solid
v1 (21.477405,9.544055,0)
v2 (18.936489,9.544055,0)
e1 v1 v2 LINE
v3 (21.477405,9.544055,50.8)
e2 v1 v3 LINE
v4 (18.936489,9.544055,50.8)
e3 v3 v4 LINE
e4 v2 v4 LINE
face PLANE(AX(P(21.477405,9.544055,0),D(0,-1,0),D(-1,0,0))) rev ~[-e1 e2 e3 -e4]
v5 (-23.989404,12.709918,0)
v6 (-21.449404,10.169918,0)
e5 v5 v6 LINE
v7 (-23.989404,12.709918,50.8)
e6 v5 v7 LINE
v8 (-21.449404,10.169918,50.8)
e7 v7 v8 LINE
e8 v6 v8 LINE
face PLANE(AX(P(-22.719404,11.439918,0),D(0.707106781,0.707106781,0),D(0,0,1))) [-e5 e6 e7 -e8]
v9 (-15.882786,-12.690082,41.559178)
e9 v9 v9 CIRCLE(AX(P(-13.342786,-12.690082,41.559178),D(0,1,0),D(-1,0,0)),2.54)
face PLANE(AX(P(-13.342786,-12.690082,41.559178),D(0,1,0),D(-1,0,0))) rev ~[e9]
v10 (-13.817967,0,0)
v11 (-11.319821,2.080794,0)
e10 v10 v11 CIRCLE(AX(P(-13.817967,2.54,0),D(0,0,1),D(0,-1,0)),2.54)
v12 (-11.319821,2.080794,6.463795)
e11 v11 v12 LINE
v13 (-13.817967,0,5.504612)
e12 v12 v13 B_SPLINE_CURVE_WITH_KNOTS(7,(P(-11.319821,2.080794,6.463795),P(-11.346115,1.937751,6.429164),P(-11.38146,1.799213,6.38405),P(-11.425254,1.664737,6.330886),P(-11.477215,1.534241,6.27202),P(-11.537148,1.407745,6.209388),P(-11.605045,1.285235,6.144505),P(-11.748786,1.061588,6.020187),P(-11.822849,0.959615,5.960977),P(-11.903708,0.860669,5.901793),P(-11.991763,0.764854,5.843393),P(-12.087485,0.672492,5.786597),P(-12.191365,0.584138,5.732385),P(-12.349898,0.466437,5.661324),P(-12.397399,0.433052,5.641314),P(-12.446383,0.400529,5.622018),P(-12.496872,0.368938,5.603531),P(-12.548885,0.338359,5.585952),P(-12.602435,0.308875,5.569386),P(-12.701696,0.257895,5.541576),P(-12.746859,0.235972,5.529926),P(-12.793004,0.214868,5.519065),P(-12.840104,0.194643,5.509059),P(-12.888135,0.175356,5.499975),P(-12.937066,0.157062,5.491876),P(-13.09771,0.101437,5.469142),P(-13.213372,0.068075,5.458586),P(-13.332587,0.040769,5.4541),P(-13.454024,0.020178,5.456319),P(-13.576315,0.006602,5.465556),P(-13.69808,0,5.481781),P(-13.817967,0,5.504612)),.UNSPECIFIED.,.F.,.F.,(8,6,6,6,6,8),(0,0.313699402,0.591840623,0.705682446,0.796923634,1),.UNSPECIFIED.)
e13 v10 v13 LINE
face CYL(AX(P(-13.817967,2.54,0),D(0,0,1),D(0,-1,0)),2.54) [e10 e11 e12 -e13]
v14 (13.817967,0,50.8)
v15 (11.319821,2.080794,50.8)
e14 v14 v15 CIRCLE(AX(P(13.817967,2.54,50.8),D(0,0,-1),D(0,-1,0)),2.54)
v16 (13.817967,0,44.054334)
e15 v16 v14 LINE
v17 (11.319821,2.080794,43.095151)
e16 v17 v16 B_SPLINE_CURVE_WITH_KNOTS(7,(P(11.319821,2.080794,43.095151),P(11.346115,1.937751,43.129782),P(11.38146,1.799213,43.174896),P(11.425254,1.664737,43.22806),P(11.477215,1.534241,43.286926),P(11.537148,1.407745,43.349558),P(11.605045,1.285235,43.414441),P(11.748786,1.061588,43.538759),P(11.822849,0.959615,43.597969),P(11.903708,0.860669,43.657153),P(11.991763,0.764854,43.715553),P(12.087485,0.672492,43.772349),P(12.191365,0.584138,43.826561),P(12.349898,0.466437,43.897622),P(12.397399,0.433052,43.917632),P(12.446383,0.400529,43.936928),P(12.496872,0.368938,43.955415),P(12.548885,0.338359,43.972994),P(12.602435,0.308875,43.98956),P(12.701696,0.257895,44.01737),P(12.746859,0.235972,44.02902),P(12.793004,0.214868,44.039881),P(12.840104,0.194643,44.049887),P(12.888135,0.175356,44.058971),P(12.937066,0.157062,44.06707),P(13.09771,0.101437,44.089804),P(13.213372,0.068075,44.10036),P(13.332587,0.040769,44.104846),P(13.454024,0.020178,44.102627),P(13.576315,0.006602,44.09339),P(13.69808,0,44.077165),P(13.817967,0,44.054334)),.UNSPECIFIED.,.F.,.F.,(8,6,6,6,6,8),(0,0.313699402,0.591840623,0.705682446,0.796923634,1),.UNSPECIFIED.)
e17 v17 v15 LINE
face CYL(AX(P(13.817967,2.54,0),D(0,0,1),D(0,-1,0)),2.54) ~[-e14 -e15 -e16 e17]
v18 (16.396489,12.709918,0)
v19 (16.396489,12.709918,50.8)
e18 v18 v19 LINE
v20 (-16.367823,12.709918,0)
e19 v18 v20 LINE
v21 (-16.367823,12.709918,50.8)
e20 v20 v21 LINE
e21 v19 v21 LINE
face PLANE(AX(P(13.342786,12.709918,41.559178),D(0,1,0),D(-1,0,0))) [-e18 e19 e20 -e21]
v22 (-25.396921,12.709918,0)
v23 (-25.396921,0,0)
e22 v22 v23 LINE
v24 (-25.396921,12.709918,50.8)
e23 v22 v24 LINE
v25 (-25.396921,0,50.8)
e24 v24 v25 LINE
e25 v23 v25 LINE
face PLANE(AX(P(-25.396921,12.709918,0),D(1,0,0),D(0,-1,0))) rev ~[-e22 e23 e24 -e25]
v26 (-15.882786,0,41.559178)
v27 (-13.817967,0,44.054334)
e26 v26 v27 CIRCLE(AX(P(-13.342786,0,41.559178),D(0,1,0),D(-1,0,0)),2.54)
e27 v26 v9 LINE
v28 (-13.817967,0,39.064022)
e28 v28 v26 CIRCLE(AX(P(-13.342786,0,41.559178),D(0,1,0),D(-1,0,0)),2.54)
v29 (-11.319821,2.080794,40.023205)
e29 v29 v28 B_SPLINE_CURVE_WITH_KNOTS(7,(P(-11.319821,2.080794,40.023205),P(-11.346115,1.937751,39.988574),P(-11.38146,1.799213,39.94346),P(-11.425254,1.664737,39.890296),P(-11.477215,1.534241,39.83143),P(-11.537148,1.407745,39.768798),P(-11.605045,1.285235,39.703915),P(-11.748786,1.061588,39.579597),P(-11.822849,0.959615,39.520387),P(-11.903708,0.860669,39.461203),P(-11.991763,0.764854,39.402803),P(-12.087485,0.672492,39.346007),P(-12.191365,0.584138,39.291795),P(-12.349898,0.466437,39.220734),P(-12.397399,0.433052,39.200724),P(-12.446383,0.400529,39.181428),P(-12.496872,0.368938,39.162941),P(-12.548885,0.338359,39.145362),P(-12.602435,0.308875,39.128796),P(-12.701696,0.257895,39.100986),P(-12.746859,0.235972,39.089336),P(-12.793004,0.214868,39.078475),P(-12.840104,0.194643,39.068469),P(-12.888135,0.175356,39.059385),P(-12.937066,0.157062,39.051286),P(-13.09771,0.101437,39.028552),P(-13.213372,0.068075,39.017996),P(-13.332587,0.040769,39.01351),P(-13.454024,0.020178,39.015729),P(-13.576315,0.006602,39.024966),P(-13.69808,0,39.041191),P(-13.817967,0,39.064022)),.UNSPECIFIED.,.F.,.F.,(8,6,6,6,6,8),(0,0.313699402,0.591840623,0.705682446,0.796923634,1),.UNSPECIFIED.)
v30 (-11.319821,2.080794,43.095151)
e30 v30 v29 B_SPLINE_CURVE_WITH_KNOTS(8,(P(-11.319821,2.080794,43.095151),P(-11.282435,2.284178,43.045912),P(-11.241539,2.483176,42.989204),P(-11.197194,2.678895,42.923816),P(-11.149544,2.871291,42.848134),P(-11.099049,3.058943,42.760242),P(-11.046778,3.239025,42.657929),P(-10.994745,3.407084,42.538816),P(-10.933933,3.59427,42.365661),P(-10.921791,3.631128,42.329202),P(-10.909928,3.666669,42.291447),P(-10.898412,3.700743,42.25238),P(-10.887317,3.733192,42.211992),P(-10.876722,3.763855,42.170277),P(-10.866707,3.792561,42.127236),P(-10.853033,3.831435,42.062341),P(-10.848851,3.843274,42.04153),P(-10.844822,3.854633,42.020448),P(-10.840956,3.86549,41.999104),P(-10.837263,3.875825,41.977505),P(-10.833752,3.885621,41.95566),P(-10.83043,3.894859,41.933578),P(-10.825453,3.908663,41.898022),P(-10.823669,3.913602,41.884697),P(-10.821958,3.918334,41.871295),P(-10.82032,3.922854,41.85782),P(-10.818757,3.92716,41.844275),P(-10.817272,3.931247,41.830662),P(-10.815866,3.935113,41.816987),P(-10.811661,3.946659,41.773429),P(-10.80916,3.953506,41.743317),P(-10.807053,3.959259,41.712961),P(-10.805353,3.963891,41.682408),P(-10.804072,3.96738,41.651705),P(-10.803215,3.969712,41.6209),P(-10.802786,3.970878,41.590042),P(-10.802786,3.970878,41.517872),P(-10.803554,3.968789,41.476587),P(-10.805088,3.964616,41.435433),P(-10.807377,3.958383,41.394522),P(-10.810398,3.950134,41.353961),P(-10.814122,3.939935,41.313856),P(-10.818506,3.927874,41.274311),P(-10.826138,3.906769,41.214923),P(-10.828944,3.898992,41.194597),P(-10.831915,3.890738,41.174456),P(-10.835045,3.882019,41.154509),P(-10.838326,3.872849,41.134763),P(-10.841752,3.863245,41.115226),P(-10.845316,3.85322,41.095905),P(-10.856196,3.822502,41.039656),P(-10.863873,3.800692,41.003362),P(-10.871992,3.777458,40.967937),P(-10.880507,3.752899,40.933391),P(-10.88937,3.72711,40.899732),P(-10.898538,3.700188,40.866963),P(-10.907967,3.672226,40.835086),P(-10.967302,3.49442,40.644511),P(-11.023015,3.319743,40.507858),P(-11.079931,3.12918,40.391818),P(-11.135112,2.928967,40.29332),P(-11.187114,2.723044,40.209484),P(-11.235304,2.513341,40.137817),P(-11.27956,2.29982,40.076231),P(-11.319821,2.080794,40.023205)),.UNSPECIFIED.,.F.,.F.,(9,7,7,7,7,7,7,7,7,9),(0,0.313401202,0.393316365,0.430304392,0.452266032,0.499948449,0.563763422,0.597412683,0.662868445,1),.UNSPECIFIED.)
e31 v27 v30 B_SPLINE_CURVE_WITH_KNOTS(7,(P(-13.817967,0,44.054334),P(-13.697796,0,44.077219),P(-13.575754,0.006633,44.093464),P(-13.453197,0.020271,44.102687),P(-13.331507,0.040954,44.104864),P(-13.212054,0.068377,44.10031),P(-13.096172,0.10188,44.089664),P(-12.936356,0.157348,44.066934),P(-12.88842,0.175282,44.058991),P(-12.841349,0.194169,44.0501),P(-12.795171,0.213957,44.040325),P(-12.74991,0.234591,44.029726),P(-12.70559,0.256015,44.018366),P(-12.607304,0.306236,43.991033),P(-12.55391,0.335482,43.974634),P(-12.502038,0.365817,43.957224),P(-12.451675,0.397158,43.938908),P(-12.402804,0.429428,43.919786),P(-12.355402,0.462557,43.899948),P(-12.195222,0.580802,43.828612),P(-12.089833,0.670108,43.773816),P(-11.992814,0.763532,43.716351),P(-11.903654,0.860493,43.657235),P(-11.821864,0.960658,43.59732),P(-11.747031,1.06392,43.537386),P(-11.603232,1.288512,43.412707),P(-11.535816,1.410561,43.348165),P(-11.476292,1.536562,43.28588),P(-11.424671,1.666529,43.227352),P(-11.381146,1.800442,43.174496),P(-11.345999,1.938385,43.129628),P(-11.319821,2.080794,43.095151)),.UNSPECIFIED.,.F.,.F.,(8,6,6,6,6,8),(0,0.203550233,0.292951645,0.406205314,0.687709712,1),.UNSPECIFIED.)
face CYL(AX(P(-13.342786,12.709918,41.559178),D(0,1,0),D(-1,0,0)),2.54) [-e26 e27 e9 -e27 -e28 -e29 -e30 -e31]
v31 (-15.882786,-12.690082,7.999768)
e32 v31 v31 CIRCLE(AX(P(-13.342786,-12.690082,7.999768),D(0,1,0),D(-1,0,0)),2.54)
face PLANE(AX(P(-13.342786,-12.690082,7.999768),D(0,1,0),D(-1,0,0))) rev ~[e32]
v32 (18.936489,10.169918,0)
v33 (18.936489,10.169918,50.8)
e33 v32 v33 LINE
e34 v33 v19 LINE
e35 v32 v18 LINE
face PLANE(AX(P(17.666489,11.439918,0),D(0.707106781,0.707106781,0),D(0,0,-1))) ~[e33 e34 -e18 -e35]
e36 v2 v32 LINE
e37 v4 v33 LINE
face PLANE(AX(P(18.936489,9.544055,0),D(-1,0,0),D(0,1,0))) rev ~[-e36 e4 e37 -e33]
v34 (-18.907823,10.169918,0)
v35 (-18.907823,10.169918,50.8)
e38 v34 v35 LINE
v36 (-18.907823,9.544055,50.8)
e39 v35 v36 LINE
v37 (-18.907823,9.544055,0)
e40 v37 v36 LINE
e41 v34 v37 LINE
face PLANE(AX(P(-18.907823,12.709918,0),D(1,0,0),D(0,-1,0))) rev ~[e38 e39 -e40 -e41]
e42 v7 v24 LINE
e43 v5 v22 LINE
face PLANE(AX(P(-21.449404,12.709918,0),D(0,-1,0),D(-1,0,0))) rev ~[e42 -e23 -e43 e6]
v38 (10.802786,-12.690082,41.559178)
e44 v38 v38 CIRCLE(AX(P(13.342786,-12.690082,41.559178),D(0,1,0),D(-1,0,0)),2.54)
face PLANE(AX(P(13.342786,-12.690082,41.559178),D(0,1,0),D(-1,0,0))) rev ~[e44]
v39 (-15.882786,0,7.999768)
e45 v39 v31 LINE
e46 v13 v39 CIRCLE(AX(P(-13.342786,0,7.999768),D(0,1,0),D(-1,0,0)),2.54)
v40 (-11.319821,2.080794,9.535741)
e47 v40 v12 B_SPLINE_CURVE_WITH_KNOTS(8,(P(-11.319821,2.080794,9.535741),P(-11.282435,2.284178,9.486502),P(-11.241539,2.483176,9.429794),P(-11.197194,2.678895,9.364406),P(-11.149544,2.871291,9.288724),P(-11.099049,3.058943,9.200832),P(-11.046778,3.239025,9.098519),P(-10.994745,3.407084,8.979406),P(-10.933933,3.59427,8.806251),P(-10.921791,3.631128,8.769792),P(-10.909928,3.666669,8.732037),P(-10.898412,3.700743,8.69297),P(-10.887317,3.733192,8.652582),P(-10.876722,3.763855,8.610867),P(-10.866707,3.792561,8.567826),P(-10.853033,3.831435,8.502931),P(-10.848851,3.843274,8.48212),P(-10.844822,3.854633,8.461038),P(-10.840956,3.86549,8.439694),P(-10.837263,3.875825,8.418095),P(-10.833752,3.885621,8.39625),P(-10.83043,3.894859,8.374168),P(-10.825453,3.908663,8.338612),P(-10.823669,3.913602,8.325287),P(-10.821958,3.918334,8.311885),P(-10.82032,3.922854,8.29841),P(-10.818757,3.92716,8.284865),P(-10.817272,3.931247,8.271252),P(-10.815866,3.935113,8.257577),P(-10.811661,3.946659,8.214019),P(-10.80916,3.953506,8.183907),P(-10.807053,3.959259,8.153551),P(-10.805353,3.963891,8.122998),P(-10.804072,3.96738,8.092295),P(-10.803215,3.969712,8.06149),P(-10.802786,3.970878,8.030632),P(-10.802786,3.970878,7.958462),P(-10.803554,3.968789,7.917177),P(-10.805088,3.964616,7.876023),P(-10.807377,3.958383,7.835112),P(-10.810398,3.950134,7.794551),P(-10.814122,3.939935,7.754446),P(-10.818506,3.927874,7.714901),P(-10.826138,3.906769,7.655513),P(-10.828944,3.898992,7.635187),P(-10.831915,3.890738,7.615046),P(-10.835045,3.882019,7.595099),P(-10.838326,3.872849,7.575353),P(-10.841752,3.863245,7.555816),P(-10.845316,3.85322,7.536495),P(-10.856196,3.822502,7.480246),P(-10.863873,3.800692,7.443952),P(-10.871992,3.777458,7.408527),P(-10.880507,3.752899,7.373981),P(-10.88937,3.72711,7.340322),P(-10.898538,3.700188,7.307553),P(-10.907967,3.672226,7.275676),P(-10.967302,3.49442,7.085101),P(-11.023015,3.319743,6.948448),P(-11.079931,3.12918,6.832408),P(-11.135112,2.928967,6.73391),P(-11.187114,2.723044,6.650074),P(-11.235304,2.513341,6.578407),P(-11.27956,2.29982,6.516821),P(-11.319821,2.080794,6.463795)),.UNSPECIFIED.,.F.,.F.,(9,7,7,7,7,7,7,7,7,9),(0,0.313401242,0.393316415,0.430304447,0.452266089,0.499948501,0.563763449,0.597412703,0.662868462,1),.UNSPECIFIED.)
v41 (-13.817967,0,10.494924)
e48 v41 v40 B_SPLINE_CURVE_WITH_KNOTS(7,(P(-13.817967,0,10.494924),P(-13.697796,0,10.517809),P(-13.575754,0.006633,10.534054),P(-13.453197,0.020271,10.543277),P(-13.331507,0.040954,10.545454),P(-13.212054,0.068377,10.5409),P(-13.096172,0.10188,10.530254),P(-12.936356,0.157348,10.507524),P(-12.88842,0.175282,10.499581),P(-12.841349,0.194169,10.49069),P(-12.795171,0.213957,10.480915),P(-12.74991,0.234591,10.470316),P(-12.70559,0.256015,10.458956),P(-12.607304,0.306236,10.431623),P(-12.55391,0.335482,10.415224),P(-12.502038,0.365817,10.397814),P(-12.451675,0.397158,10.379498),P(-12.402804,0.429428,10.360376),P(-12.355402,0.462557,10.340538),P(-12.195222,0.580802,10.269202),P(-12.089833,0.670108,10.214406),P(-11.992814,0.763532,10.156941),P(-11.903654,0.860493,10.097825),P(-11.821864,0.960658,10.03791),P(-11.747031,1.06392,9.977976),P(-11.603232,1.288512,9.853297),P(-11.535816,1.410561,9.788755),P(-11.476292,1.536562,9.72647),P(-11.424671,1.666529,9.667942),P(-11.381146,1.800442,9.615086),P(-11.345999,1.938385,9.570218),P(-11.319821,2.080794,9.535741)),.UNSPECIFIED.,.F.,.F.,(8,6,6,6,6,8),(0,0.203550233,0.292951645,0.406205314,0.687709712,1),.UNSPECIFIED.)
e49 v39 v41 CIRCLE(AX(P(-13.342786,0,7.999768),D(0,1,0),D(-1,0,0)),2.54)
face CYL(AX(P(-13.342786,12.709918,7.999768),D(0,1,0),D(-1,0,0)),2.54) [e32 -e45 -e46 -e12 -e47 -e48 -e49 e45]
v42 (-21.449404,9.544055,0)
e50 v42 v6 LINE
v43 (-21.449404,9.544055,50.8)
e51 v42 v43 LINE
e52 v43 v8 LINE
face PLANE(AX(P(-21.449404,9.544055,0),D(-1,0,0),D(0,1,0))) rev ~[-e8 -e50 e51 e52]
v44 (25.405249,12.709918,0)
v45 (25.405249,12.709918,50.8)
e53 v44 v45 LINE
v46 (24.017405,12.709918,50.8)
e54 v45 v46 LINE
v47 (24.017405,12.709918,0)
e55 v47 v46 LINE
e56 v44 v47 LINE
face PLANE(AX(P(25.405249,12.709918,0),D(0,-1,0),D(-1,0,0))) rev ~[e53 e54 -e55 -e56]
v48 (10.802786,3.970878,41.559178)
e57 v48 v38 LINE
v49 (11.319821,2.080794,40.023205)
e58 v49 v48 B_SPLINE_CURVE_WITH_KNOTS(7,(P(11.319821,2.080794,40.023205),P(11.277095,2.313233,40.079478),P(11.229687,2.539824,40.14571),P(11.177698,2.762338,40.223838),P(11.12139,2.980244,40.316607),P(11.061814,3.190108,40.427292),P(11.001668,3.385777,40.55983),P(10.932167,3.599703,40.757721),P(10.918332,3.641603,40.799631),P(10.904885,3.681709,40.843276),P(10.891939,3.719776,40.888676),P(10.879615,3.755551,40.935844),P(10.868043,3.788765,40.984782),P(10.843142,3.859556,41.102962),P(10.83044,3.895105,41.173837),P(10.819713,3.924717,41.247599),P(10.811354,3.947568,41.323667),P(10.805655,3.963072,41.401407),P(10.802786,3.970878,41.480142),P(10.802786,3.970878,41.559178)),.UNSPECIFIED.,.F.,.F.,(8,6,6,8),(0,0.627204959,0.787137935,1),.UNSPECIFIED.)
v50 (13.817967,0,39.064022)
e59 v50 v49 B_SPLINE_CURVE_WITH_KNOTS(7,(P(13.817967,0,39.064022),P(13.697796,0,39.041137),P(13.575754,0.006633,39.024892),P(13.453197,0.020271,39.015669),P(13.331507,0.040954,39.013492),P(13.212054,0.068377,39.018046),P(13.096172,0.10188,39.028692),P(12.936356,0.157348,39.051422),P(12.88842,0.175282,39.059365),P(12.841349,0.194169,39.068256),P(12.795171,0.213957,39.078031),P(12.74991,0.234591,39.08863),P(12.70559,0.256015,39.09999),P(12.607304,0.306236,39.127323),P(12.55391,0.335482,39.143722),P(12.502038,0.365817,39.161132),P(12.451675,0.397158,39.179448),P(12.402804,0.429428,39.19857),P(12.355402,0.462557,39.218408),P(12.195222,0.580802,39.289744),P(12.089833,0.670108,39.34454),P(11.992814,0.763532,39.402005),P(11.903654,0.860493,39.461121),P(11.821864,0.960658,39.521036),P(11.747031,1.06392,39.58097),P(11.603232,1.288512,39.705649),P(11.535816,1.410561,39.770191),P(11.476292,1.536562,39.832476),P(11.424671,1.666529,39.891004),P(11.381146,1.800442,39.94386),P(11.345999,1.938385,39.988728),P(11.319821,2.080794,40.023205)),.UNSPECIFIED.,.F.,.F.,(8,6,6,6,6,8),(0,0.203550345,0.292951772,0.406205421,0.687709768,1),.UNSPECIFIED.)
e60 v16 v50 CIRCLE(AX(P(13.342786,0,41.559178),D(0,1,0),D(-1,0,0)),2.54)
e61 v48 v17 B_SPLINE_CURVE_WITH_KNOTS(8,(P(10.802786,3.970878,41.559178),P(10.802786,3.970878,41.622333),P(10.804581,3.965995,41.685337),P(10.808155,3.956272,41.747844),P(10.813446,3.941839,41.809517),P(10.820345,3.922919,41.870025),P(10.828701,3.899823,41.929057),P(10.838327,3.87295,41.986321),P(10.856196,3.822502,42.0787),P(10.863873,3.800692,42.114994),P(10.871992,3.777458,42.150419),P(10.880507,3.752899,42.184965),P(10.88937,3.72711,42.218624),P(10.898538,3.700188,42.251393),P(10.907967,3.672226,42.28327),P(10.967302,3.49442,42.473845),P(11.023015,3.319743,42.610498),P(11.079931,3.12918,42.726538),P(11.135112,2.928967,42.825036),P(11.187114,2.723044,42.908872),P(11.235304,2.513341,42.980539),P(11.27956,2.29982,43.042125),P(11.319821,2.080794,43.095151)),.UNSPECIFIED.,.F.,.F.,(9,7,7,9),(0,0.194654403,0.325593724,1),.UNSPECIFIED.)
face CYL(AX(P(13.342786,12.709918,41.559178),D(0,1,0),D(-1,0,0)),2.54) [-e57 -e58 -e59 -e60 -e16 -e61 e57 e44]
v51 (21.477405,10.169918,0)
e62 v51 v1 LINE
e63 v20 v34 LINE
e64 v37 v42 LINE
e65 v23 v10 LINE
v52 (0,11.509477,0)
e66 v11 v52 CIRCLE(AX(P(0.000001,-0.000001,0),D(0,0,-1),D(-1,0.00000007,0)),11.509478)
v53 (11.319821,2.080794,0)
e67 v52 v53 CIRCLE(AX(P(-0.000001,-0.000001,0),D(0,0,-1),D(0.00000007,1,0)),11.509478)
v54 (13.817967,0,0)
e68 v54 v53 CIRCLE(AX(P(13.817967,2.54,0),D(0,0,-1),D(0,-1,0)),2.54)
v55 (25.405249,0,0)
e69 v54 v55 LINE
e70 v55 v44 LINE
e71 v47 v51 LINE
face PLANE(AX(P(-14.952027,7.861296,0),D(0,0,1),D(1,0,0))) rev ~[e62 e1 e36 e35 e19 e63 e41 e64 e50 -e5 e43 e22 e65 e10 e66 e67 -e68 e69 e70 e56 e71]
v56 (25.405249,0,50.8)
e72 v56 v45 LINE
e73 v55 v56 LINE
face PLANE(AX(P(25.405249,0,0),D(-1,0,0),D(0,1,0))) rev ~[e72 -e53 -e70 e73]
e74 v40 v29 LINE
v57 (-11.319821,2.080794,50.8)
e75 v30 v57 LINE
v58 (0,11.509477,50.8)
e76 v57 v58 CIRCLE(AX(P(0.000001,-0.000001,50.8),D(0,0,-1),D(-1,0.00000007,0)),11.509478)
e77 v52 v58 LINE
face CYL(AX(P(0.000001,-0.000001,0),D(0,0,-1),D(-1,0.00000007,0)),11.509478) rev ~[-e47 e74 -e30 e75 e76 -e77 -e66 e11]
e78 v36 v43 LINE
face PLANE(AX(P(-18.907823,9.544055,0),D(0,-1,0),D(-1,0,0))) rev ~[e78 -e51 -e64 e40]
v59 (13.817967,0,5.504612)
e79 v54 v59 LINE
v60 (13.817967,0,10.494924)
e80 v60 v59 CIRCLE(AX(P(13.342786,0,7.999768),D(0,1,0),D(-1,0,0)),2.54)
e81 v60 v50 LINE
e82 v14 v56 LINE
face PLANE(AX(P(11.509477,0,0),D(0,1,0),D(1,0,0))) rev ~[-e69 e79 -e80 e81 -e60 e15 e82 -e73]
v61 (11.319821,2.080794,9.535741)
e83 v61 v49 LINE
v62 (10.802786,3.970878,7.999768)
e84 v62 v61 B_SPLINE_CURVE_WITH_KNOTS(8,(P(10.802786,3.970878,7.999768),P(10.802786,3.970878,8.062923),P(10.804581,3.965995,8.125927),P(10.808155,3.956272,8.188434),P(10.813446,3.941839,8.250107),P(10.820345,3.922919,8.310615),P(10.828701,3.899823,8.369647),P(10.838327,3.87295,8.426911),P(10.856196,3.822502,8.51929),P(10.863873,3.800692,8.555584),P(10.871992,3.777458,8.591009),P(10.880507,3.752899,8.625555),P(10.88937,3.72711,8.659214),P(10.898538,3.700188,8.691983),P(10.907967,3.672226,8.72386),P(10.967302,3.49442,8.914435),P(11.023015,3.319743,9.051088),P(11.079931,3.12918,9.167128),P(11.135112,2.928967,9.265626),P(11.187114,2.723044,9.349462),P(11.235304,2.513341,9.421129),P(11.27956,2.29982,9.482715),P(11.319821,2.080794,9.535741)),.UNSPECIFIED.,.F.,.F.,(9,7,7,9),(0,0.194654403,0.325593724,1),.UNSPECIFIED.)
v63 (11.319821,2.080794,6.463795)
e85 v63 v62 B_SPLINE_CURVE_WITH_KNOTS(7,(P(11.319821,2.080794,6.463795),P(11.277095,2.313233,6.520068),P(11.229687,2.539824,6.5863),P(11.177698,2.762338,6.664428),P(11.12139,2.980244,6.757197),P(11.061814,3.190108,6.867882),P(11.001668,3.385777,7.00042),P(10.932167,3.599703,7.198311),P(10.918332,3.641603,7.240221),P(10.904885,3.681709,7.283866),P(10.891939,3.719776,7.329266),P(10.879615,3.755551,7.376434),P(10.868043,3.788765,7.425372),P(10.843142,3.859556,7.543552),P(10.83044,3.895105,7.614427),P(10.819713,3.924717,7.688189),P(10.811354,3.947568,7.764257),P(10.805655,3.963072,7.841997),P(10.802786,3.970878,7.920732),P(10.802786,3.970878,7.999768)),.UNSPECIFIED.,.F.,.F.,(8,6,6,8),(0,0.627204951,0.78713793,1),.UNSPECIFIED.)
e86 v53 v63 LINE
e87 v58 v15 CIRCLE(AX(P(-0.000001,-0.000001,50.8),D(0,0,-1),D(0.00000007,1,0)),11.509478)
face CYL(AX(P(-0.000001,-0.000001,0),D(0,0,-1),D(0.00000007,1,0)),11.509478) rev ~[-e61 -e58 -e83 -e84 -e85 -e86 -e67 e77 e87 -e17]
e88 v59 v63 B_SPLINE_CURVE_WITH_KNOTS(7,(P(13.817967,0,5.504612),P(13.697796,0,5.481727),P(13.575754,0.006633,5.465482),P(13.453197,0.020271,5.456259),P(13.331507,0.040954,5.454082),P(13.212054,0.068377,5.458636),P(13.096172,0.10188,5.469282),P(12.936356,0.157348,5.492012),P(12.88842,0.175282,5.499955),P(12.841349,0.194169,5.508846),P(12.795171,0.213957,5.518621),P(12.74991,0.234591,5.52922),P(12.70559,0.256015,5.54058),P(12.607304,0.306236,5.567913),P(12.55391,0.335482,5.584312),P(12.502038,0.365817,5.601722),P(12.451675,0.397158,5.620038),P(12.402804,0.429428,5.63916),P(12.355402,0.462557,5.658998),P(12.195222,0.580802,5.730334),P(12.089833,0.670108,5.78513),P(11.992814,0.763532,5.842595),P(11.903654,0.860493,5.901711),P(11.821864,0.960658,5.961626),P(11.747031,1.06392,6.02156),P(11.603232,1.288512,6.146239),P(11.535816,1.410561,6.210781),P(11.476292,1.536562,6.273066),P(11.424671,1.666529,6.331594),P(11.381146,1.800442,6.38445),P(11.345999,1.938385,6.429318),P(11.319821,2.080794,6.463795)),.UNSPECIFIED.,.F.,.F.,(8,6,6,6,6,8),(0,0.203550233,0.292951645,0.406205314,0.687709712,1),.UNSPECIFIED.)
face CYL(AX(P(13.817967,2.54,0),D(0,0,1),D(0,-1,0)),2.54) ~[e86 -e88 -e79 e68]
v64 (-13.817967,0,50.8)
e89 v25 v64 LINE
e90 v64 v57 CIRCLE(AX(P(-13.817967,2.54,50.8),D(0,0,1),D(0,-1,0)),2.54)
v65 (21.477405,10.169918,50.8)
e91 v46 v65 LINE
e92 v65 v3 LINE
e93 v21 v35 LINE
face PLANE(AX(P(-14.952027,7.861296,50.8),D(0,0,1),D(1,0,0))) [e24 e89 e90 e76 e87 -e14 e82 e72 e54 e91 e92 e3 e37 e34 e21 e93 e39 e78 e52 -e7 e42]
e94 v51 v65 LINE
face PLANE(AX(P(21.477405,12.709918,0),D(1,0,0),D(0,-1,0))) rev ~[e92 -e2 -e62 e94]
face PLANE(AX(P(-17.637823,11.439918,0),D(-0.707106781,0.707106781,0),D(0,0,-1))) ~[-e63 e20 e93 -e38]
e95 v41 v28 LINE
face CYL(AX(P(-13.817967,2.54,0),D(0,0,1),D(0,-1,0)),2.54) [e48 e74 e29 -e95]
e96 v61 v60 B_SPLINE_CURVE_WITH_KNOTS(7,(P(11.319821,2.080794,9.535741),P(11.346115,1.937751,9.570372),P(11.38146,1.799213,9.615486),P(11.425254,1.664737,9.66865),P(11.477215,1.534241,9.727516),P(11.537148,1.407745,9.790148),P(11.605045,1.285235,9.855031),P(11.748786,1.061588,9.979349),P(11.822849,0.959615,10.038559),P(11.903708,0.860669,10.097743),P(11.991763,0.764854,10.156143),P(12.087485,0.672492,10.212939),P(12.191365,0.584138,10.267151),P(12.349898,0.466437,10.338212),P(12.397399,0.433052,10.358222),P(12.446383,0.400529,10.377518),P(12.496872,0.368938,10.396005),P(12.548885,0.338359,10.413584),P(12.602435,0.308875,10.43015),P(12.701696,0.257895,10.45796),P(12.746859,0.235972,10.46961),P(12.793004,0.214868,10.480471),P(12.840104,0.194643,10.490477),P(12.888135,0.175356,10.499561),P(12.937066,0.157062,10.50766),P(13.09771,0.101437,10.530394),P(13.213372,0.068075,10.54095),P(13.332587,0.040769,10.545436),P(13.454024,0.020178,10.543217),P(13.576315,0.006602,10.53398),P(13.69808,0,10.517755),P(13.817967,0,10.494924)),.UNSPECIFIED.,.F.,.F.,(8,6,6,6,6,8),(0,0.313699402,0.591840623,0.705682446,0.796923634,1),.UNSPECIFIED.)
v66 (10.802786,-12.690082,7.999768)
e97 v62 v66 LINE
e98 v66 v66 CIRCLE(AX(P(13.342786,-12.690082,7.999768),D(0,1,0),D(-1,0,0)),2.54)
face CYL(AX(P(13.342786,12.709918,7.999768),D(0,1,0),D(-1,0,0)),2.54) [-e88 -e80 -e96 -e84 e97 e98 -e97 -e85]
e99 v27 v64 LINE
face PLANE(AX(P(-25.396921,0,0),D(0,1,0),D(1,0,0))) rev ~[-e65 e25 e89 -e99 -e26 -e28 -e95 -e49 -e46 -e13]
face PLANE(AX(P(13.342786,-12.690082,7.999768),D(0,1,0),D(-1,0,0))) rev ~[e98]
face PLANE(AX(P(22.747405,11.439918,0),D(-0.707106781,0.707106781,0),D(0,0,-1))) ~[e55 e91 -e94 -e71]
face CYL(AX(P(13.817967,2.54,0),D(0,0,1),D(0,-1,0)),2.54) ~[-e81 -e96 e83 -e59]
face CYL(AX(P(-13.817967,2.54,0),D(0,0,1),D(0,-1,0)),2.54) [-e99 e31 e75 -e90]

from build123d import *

# Parameters (mm, degrees)
F1_DEPTH = 50.8
F2_SIZE  = 2.54
F3_SIZE  = 2.54
F4_SIZE  = 2.54
F5_R     = 2.54
F6_R     = 2.54
F7_DEPTH = 25.4


with BuildPart() as f1:
    # F0 (on Top) → F1 (new body)
    with BuildSketch(Plane.XY):
        with BuildLine():
            Line((-25.396921, 0), (-11.509477, 0))
            ThreePointArc((-11.509477, 0), (-8.138429, 8.138429), (0, 11.509477))
            Line((0, 11.509477), (0, 12.709918))
            Line((0, 12.709918), (-18.907823, 12.709918))
            Line((-18.907823, 12.709918), (-18.907823, 9.544055))
            Line((-18.907823, 9.544055), (-21.449404, 9.544055))
            Line((-21.449404, 9.544055), (-21.449404, 12.709918))
            Line((-21.449404, 12.709918), (-25.396921, 12.709918))
            Line((-25.396921, 12.709918), (-25.396921, 0))
        make_face()
        with BuildLine():
            Line((0, 12.709918), (0, 11.509477))
            ThreePointArc((0, 11.509477), (8.138429, 8.138429), (11.509477, 0))
            Line((11.509477, 0), (25.405249, 0))
            Line((25.405249, 0), (25.405249, 12.709918))
            Line((25.405249, 12.709918), (21.477405, 12.709918))
            Line((21.477405, 12.709918), (21.477405, 9.544055))
            Line((21.477405, 9.544055), (18.936489, 9.544055))
            Line((18.936489, 9.544055), (18.936489, 12.709918))
            Line((18.936489, 12.709918), (0, 12.709918))
        make_face()
    extrude(amount=F1_DEPTH)

    # F2
    f2_edges = [f1.edges().sort_by_distance(p)[0] for p in [
        (21.477405, 12.709918, 25.4),
    ]]
    chamfer(f2_edges, length=F2_SIZE)

    # F3
    f3_edges = [f1.edges().sort_by_distance(p)[0] for p in [
        (-21.449404, 12.709918, 25.4),
        (18.936489, 12.709918, 25.4),
    ]]
    chamfer(f3_edges, length=F3_SIZE)

    # F4
    f4_edges = [f1.edges().sort_by_distance(p)[0] for p in [
        (-18.907823, 12.709918, 25.4),
    ]]
    chamfer(f4_edges, length=F4_SIZE)

    # F5
    f5_edges = [f1.edges().sort_by_distance(p)[0] for p in [
        (-11.509477, 0, 25.4),
        (11.509477, 0, 25.4),
    ]]
    fillet(f5_edges, radius=F5_R)

    # F6 (on face) → F7 (join)
    with BuildSketch(Plane(origin=(0, 12.709918, 0), x_dir=(-1, 0, 0), z_dir=(0, 1, 0))):
        with Locations((-13.342786, 41.559178)):
            Circle(F6_R)
        with Locations((13.342786, 41.559178)):
            Circle(F6_R)
        with Locations((13.342786, 7.999768)):
            Circle(F6_R)
        with Locations((-13.342786, 7.999768)):
            Circle(F6_R)
    extrude(amount=-F7_DEPTH)


solid = f1.part
